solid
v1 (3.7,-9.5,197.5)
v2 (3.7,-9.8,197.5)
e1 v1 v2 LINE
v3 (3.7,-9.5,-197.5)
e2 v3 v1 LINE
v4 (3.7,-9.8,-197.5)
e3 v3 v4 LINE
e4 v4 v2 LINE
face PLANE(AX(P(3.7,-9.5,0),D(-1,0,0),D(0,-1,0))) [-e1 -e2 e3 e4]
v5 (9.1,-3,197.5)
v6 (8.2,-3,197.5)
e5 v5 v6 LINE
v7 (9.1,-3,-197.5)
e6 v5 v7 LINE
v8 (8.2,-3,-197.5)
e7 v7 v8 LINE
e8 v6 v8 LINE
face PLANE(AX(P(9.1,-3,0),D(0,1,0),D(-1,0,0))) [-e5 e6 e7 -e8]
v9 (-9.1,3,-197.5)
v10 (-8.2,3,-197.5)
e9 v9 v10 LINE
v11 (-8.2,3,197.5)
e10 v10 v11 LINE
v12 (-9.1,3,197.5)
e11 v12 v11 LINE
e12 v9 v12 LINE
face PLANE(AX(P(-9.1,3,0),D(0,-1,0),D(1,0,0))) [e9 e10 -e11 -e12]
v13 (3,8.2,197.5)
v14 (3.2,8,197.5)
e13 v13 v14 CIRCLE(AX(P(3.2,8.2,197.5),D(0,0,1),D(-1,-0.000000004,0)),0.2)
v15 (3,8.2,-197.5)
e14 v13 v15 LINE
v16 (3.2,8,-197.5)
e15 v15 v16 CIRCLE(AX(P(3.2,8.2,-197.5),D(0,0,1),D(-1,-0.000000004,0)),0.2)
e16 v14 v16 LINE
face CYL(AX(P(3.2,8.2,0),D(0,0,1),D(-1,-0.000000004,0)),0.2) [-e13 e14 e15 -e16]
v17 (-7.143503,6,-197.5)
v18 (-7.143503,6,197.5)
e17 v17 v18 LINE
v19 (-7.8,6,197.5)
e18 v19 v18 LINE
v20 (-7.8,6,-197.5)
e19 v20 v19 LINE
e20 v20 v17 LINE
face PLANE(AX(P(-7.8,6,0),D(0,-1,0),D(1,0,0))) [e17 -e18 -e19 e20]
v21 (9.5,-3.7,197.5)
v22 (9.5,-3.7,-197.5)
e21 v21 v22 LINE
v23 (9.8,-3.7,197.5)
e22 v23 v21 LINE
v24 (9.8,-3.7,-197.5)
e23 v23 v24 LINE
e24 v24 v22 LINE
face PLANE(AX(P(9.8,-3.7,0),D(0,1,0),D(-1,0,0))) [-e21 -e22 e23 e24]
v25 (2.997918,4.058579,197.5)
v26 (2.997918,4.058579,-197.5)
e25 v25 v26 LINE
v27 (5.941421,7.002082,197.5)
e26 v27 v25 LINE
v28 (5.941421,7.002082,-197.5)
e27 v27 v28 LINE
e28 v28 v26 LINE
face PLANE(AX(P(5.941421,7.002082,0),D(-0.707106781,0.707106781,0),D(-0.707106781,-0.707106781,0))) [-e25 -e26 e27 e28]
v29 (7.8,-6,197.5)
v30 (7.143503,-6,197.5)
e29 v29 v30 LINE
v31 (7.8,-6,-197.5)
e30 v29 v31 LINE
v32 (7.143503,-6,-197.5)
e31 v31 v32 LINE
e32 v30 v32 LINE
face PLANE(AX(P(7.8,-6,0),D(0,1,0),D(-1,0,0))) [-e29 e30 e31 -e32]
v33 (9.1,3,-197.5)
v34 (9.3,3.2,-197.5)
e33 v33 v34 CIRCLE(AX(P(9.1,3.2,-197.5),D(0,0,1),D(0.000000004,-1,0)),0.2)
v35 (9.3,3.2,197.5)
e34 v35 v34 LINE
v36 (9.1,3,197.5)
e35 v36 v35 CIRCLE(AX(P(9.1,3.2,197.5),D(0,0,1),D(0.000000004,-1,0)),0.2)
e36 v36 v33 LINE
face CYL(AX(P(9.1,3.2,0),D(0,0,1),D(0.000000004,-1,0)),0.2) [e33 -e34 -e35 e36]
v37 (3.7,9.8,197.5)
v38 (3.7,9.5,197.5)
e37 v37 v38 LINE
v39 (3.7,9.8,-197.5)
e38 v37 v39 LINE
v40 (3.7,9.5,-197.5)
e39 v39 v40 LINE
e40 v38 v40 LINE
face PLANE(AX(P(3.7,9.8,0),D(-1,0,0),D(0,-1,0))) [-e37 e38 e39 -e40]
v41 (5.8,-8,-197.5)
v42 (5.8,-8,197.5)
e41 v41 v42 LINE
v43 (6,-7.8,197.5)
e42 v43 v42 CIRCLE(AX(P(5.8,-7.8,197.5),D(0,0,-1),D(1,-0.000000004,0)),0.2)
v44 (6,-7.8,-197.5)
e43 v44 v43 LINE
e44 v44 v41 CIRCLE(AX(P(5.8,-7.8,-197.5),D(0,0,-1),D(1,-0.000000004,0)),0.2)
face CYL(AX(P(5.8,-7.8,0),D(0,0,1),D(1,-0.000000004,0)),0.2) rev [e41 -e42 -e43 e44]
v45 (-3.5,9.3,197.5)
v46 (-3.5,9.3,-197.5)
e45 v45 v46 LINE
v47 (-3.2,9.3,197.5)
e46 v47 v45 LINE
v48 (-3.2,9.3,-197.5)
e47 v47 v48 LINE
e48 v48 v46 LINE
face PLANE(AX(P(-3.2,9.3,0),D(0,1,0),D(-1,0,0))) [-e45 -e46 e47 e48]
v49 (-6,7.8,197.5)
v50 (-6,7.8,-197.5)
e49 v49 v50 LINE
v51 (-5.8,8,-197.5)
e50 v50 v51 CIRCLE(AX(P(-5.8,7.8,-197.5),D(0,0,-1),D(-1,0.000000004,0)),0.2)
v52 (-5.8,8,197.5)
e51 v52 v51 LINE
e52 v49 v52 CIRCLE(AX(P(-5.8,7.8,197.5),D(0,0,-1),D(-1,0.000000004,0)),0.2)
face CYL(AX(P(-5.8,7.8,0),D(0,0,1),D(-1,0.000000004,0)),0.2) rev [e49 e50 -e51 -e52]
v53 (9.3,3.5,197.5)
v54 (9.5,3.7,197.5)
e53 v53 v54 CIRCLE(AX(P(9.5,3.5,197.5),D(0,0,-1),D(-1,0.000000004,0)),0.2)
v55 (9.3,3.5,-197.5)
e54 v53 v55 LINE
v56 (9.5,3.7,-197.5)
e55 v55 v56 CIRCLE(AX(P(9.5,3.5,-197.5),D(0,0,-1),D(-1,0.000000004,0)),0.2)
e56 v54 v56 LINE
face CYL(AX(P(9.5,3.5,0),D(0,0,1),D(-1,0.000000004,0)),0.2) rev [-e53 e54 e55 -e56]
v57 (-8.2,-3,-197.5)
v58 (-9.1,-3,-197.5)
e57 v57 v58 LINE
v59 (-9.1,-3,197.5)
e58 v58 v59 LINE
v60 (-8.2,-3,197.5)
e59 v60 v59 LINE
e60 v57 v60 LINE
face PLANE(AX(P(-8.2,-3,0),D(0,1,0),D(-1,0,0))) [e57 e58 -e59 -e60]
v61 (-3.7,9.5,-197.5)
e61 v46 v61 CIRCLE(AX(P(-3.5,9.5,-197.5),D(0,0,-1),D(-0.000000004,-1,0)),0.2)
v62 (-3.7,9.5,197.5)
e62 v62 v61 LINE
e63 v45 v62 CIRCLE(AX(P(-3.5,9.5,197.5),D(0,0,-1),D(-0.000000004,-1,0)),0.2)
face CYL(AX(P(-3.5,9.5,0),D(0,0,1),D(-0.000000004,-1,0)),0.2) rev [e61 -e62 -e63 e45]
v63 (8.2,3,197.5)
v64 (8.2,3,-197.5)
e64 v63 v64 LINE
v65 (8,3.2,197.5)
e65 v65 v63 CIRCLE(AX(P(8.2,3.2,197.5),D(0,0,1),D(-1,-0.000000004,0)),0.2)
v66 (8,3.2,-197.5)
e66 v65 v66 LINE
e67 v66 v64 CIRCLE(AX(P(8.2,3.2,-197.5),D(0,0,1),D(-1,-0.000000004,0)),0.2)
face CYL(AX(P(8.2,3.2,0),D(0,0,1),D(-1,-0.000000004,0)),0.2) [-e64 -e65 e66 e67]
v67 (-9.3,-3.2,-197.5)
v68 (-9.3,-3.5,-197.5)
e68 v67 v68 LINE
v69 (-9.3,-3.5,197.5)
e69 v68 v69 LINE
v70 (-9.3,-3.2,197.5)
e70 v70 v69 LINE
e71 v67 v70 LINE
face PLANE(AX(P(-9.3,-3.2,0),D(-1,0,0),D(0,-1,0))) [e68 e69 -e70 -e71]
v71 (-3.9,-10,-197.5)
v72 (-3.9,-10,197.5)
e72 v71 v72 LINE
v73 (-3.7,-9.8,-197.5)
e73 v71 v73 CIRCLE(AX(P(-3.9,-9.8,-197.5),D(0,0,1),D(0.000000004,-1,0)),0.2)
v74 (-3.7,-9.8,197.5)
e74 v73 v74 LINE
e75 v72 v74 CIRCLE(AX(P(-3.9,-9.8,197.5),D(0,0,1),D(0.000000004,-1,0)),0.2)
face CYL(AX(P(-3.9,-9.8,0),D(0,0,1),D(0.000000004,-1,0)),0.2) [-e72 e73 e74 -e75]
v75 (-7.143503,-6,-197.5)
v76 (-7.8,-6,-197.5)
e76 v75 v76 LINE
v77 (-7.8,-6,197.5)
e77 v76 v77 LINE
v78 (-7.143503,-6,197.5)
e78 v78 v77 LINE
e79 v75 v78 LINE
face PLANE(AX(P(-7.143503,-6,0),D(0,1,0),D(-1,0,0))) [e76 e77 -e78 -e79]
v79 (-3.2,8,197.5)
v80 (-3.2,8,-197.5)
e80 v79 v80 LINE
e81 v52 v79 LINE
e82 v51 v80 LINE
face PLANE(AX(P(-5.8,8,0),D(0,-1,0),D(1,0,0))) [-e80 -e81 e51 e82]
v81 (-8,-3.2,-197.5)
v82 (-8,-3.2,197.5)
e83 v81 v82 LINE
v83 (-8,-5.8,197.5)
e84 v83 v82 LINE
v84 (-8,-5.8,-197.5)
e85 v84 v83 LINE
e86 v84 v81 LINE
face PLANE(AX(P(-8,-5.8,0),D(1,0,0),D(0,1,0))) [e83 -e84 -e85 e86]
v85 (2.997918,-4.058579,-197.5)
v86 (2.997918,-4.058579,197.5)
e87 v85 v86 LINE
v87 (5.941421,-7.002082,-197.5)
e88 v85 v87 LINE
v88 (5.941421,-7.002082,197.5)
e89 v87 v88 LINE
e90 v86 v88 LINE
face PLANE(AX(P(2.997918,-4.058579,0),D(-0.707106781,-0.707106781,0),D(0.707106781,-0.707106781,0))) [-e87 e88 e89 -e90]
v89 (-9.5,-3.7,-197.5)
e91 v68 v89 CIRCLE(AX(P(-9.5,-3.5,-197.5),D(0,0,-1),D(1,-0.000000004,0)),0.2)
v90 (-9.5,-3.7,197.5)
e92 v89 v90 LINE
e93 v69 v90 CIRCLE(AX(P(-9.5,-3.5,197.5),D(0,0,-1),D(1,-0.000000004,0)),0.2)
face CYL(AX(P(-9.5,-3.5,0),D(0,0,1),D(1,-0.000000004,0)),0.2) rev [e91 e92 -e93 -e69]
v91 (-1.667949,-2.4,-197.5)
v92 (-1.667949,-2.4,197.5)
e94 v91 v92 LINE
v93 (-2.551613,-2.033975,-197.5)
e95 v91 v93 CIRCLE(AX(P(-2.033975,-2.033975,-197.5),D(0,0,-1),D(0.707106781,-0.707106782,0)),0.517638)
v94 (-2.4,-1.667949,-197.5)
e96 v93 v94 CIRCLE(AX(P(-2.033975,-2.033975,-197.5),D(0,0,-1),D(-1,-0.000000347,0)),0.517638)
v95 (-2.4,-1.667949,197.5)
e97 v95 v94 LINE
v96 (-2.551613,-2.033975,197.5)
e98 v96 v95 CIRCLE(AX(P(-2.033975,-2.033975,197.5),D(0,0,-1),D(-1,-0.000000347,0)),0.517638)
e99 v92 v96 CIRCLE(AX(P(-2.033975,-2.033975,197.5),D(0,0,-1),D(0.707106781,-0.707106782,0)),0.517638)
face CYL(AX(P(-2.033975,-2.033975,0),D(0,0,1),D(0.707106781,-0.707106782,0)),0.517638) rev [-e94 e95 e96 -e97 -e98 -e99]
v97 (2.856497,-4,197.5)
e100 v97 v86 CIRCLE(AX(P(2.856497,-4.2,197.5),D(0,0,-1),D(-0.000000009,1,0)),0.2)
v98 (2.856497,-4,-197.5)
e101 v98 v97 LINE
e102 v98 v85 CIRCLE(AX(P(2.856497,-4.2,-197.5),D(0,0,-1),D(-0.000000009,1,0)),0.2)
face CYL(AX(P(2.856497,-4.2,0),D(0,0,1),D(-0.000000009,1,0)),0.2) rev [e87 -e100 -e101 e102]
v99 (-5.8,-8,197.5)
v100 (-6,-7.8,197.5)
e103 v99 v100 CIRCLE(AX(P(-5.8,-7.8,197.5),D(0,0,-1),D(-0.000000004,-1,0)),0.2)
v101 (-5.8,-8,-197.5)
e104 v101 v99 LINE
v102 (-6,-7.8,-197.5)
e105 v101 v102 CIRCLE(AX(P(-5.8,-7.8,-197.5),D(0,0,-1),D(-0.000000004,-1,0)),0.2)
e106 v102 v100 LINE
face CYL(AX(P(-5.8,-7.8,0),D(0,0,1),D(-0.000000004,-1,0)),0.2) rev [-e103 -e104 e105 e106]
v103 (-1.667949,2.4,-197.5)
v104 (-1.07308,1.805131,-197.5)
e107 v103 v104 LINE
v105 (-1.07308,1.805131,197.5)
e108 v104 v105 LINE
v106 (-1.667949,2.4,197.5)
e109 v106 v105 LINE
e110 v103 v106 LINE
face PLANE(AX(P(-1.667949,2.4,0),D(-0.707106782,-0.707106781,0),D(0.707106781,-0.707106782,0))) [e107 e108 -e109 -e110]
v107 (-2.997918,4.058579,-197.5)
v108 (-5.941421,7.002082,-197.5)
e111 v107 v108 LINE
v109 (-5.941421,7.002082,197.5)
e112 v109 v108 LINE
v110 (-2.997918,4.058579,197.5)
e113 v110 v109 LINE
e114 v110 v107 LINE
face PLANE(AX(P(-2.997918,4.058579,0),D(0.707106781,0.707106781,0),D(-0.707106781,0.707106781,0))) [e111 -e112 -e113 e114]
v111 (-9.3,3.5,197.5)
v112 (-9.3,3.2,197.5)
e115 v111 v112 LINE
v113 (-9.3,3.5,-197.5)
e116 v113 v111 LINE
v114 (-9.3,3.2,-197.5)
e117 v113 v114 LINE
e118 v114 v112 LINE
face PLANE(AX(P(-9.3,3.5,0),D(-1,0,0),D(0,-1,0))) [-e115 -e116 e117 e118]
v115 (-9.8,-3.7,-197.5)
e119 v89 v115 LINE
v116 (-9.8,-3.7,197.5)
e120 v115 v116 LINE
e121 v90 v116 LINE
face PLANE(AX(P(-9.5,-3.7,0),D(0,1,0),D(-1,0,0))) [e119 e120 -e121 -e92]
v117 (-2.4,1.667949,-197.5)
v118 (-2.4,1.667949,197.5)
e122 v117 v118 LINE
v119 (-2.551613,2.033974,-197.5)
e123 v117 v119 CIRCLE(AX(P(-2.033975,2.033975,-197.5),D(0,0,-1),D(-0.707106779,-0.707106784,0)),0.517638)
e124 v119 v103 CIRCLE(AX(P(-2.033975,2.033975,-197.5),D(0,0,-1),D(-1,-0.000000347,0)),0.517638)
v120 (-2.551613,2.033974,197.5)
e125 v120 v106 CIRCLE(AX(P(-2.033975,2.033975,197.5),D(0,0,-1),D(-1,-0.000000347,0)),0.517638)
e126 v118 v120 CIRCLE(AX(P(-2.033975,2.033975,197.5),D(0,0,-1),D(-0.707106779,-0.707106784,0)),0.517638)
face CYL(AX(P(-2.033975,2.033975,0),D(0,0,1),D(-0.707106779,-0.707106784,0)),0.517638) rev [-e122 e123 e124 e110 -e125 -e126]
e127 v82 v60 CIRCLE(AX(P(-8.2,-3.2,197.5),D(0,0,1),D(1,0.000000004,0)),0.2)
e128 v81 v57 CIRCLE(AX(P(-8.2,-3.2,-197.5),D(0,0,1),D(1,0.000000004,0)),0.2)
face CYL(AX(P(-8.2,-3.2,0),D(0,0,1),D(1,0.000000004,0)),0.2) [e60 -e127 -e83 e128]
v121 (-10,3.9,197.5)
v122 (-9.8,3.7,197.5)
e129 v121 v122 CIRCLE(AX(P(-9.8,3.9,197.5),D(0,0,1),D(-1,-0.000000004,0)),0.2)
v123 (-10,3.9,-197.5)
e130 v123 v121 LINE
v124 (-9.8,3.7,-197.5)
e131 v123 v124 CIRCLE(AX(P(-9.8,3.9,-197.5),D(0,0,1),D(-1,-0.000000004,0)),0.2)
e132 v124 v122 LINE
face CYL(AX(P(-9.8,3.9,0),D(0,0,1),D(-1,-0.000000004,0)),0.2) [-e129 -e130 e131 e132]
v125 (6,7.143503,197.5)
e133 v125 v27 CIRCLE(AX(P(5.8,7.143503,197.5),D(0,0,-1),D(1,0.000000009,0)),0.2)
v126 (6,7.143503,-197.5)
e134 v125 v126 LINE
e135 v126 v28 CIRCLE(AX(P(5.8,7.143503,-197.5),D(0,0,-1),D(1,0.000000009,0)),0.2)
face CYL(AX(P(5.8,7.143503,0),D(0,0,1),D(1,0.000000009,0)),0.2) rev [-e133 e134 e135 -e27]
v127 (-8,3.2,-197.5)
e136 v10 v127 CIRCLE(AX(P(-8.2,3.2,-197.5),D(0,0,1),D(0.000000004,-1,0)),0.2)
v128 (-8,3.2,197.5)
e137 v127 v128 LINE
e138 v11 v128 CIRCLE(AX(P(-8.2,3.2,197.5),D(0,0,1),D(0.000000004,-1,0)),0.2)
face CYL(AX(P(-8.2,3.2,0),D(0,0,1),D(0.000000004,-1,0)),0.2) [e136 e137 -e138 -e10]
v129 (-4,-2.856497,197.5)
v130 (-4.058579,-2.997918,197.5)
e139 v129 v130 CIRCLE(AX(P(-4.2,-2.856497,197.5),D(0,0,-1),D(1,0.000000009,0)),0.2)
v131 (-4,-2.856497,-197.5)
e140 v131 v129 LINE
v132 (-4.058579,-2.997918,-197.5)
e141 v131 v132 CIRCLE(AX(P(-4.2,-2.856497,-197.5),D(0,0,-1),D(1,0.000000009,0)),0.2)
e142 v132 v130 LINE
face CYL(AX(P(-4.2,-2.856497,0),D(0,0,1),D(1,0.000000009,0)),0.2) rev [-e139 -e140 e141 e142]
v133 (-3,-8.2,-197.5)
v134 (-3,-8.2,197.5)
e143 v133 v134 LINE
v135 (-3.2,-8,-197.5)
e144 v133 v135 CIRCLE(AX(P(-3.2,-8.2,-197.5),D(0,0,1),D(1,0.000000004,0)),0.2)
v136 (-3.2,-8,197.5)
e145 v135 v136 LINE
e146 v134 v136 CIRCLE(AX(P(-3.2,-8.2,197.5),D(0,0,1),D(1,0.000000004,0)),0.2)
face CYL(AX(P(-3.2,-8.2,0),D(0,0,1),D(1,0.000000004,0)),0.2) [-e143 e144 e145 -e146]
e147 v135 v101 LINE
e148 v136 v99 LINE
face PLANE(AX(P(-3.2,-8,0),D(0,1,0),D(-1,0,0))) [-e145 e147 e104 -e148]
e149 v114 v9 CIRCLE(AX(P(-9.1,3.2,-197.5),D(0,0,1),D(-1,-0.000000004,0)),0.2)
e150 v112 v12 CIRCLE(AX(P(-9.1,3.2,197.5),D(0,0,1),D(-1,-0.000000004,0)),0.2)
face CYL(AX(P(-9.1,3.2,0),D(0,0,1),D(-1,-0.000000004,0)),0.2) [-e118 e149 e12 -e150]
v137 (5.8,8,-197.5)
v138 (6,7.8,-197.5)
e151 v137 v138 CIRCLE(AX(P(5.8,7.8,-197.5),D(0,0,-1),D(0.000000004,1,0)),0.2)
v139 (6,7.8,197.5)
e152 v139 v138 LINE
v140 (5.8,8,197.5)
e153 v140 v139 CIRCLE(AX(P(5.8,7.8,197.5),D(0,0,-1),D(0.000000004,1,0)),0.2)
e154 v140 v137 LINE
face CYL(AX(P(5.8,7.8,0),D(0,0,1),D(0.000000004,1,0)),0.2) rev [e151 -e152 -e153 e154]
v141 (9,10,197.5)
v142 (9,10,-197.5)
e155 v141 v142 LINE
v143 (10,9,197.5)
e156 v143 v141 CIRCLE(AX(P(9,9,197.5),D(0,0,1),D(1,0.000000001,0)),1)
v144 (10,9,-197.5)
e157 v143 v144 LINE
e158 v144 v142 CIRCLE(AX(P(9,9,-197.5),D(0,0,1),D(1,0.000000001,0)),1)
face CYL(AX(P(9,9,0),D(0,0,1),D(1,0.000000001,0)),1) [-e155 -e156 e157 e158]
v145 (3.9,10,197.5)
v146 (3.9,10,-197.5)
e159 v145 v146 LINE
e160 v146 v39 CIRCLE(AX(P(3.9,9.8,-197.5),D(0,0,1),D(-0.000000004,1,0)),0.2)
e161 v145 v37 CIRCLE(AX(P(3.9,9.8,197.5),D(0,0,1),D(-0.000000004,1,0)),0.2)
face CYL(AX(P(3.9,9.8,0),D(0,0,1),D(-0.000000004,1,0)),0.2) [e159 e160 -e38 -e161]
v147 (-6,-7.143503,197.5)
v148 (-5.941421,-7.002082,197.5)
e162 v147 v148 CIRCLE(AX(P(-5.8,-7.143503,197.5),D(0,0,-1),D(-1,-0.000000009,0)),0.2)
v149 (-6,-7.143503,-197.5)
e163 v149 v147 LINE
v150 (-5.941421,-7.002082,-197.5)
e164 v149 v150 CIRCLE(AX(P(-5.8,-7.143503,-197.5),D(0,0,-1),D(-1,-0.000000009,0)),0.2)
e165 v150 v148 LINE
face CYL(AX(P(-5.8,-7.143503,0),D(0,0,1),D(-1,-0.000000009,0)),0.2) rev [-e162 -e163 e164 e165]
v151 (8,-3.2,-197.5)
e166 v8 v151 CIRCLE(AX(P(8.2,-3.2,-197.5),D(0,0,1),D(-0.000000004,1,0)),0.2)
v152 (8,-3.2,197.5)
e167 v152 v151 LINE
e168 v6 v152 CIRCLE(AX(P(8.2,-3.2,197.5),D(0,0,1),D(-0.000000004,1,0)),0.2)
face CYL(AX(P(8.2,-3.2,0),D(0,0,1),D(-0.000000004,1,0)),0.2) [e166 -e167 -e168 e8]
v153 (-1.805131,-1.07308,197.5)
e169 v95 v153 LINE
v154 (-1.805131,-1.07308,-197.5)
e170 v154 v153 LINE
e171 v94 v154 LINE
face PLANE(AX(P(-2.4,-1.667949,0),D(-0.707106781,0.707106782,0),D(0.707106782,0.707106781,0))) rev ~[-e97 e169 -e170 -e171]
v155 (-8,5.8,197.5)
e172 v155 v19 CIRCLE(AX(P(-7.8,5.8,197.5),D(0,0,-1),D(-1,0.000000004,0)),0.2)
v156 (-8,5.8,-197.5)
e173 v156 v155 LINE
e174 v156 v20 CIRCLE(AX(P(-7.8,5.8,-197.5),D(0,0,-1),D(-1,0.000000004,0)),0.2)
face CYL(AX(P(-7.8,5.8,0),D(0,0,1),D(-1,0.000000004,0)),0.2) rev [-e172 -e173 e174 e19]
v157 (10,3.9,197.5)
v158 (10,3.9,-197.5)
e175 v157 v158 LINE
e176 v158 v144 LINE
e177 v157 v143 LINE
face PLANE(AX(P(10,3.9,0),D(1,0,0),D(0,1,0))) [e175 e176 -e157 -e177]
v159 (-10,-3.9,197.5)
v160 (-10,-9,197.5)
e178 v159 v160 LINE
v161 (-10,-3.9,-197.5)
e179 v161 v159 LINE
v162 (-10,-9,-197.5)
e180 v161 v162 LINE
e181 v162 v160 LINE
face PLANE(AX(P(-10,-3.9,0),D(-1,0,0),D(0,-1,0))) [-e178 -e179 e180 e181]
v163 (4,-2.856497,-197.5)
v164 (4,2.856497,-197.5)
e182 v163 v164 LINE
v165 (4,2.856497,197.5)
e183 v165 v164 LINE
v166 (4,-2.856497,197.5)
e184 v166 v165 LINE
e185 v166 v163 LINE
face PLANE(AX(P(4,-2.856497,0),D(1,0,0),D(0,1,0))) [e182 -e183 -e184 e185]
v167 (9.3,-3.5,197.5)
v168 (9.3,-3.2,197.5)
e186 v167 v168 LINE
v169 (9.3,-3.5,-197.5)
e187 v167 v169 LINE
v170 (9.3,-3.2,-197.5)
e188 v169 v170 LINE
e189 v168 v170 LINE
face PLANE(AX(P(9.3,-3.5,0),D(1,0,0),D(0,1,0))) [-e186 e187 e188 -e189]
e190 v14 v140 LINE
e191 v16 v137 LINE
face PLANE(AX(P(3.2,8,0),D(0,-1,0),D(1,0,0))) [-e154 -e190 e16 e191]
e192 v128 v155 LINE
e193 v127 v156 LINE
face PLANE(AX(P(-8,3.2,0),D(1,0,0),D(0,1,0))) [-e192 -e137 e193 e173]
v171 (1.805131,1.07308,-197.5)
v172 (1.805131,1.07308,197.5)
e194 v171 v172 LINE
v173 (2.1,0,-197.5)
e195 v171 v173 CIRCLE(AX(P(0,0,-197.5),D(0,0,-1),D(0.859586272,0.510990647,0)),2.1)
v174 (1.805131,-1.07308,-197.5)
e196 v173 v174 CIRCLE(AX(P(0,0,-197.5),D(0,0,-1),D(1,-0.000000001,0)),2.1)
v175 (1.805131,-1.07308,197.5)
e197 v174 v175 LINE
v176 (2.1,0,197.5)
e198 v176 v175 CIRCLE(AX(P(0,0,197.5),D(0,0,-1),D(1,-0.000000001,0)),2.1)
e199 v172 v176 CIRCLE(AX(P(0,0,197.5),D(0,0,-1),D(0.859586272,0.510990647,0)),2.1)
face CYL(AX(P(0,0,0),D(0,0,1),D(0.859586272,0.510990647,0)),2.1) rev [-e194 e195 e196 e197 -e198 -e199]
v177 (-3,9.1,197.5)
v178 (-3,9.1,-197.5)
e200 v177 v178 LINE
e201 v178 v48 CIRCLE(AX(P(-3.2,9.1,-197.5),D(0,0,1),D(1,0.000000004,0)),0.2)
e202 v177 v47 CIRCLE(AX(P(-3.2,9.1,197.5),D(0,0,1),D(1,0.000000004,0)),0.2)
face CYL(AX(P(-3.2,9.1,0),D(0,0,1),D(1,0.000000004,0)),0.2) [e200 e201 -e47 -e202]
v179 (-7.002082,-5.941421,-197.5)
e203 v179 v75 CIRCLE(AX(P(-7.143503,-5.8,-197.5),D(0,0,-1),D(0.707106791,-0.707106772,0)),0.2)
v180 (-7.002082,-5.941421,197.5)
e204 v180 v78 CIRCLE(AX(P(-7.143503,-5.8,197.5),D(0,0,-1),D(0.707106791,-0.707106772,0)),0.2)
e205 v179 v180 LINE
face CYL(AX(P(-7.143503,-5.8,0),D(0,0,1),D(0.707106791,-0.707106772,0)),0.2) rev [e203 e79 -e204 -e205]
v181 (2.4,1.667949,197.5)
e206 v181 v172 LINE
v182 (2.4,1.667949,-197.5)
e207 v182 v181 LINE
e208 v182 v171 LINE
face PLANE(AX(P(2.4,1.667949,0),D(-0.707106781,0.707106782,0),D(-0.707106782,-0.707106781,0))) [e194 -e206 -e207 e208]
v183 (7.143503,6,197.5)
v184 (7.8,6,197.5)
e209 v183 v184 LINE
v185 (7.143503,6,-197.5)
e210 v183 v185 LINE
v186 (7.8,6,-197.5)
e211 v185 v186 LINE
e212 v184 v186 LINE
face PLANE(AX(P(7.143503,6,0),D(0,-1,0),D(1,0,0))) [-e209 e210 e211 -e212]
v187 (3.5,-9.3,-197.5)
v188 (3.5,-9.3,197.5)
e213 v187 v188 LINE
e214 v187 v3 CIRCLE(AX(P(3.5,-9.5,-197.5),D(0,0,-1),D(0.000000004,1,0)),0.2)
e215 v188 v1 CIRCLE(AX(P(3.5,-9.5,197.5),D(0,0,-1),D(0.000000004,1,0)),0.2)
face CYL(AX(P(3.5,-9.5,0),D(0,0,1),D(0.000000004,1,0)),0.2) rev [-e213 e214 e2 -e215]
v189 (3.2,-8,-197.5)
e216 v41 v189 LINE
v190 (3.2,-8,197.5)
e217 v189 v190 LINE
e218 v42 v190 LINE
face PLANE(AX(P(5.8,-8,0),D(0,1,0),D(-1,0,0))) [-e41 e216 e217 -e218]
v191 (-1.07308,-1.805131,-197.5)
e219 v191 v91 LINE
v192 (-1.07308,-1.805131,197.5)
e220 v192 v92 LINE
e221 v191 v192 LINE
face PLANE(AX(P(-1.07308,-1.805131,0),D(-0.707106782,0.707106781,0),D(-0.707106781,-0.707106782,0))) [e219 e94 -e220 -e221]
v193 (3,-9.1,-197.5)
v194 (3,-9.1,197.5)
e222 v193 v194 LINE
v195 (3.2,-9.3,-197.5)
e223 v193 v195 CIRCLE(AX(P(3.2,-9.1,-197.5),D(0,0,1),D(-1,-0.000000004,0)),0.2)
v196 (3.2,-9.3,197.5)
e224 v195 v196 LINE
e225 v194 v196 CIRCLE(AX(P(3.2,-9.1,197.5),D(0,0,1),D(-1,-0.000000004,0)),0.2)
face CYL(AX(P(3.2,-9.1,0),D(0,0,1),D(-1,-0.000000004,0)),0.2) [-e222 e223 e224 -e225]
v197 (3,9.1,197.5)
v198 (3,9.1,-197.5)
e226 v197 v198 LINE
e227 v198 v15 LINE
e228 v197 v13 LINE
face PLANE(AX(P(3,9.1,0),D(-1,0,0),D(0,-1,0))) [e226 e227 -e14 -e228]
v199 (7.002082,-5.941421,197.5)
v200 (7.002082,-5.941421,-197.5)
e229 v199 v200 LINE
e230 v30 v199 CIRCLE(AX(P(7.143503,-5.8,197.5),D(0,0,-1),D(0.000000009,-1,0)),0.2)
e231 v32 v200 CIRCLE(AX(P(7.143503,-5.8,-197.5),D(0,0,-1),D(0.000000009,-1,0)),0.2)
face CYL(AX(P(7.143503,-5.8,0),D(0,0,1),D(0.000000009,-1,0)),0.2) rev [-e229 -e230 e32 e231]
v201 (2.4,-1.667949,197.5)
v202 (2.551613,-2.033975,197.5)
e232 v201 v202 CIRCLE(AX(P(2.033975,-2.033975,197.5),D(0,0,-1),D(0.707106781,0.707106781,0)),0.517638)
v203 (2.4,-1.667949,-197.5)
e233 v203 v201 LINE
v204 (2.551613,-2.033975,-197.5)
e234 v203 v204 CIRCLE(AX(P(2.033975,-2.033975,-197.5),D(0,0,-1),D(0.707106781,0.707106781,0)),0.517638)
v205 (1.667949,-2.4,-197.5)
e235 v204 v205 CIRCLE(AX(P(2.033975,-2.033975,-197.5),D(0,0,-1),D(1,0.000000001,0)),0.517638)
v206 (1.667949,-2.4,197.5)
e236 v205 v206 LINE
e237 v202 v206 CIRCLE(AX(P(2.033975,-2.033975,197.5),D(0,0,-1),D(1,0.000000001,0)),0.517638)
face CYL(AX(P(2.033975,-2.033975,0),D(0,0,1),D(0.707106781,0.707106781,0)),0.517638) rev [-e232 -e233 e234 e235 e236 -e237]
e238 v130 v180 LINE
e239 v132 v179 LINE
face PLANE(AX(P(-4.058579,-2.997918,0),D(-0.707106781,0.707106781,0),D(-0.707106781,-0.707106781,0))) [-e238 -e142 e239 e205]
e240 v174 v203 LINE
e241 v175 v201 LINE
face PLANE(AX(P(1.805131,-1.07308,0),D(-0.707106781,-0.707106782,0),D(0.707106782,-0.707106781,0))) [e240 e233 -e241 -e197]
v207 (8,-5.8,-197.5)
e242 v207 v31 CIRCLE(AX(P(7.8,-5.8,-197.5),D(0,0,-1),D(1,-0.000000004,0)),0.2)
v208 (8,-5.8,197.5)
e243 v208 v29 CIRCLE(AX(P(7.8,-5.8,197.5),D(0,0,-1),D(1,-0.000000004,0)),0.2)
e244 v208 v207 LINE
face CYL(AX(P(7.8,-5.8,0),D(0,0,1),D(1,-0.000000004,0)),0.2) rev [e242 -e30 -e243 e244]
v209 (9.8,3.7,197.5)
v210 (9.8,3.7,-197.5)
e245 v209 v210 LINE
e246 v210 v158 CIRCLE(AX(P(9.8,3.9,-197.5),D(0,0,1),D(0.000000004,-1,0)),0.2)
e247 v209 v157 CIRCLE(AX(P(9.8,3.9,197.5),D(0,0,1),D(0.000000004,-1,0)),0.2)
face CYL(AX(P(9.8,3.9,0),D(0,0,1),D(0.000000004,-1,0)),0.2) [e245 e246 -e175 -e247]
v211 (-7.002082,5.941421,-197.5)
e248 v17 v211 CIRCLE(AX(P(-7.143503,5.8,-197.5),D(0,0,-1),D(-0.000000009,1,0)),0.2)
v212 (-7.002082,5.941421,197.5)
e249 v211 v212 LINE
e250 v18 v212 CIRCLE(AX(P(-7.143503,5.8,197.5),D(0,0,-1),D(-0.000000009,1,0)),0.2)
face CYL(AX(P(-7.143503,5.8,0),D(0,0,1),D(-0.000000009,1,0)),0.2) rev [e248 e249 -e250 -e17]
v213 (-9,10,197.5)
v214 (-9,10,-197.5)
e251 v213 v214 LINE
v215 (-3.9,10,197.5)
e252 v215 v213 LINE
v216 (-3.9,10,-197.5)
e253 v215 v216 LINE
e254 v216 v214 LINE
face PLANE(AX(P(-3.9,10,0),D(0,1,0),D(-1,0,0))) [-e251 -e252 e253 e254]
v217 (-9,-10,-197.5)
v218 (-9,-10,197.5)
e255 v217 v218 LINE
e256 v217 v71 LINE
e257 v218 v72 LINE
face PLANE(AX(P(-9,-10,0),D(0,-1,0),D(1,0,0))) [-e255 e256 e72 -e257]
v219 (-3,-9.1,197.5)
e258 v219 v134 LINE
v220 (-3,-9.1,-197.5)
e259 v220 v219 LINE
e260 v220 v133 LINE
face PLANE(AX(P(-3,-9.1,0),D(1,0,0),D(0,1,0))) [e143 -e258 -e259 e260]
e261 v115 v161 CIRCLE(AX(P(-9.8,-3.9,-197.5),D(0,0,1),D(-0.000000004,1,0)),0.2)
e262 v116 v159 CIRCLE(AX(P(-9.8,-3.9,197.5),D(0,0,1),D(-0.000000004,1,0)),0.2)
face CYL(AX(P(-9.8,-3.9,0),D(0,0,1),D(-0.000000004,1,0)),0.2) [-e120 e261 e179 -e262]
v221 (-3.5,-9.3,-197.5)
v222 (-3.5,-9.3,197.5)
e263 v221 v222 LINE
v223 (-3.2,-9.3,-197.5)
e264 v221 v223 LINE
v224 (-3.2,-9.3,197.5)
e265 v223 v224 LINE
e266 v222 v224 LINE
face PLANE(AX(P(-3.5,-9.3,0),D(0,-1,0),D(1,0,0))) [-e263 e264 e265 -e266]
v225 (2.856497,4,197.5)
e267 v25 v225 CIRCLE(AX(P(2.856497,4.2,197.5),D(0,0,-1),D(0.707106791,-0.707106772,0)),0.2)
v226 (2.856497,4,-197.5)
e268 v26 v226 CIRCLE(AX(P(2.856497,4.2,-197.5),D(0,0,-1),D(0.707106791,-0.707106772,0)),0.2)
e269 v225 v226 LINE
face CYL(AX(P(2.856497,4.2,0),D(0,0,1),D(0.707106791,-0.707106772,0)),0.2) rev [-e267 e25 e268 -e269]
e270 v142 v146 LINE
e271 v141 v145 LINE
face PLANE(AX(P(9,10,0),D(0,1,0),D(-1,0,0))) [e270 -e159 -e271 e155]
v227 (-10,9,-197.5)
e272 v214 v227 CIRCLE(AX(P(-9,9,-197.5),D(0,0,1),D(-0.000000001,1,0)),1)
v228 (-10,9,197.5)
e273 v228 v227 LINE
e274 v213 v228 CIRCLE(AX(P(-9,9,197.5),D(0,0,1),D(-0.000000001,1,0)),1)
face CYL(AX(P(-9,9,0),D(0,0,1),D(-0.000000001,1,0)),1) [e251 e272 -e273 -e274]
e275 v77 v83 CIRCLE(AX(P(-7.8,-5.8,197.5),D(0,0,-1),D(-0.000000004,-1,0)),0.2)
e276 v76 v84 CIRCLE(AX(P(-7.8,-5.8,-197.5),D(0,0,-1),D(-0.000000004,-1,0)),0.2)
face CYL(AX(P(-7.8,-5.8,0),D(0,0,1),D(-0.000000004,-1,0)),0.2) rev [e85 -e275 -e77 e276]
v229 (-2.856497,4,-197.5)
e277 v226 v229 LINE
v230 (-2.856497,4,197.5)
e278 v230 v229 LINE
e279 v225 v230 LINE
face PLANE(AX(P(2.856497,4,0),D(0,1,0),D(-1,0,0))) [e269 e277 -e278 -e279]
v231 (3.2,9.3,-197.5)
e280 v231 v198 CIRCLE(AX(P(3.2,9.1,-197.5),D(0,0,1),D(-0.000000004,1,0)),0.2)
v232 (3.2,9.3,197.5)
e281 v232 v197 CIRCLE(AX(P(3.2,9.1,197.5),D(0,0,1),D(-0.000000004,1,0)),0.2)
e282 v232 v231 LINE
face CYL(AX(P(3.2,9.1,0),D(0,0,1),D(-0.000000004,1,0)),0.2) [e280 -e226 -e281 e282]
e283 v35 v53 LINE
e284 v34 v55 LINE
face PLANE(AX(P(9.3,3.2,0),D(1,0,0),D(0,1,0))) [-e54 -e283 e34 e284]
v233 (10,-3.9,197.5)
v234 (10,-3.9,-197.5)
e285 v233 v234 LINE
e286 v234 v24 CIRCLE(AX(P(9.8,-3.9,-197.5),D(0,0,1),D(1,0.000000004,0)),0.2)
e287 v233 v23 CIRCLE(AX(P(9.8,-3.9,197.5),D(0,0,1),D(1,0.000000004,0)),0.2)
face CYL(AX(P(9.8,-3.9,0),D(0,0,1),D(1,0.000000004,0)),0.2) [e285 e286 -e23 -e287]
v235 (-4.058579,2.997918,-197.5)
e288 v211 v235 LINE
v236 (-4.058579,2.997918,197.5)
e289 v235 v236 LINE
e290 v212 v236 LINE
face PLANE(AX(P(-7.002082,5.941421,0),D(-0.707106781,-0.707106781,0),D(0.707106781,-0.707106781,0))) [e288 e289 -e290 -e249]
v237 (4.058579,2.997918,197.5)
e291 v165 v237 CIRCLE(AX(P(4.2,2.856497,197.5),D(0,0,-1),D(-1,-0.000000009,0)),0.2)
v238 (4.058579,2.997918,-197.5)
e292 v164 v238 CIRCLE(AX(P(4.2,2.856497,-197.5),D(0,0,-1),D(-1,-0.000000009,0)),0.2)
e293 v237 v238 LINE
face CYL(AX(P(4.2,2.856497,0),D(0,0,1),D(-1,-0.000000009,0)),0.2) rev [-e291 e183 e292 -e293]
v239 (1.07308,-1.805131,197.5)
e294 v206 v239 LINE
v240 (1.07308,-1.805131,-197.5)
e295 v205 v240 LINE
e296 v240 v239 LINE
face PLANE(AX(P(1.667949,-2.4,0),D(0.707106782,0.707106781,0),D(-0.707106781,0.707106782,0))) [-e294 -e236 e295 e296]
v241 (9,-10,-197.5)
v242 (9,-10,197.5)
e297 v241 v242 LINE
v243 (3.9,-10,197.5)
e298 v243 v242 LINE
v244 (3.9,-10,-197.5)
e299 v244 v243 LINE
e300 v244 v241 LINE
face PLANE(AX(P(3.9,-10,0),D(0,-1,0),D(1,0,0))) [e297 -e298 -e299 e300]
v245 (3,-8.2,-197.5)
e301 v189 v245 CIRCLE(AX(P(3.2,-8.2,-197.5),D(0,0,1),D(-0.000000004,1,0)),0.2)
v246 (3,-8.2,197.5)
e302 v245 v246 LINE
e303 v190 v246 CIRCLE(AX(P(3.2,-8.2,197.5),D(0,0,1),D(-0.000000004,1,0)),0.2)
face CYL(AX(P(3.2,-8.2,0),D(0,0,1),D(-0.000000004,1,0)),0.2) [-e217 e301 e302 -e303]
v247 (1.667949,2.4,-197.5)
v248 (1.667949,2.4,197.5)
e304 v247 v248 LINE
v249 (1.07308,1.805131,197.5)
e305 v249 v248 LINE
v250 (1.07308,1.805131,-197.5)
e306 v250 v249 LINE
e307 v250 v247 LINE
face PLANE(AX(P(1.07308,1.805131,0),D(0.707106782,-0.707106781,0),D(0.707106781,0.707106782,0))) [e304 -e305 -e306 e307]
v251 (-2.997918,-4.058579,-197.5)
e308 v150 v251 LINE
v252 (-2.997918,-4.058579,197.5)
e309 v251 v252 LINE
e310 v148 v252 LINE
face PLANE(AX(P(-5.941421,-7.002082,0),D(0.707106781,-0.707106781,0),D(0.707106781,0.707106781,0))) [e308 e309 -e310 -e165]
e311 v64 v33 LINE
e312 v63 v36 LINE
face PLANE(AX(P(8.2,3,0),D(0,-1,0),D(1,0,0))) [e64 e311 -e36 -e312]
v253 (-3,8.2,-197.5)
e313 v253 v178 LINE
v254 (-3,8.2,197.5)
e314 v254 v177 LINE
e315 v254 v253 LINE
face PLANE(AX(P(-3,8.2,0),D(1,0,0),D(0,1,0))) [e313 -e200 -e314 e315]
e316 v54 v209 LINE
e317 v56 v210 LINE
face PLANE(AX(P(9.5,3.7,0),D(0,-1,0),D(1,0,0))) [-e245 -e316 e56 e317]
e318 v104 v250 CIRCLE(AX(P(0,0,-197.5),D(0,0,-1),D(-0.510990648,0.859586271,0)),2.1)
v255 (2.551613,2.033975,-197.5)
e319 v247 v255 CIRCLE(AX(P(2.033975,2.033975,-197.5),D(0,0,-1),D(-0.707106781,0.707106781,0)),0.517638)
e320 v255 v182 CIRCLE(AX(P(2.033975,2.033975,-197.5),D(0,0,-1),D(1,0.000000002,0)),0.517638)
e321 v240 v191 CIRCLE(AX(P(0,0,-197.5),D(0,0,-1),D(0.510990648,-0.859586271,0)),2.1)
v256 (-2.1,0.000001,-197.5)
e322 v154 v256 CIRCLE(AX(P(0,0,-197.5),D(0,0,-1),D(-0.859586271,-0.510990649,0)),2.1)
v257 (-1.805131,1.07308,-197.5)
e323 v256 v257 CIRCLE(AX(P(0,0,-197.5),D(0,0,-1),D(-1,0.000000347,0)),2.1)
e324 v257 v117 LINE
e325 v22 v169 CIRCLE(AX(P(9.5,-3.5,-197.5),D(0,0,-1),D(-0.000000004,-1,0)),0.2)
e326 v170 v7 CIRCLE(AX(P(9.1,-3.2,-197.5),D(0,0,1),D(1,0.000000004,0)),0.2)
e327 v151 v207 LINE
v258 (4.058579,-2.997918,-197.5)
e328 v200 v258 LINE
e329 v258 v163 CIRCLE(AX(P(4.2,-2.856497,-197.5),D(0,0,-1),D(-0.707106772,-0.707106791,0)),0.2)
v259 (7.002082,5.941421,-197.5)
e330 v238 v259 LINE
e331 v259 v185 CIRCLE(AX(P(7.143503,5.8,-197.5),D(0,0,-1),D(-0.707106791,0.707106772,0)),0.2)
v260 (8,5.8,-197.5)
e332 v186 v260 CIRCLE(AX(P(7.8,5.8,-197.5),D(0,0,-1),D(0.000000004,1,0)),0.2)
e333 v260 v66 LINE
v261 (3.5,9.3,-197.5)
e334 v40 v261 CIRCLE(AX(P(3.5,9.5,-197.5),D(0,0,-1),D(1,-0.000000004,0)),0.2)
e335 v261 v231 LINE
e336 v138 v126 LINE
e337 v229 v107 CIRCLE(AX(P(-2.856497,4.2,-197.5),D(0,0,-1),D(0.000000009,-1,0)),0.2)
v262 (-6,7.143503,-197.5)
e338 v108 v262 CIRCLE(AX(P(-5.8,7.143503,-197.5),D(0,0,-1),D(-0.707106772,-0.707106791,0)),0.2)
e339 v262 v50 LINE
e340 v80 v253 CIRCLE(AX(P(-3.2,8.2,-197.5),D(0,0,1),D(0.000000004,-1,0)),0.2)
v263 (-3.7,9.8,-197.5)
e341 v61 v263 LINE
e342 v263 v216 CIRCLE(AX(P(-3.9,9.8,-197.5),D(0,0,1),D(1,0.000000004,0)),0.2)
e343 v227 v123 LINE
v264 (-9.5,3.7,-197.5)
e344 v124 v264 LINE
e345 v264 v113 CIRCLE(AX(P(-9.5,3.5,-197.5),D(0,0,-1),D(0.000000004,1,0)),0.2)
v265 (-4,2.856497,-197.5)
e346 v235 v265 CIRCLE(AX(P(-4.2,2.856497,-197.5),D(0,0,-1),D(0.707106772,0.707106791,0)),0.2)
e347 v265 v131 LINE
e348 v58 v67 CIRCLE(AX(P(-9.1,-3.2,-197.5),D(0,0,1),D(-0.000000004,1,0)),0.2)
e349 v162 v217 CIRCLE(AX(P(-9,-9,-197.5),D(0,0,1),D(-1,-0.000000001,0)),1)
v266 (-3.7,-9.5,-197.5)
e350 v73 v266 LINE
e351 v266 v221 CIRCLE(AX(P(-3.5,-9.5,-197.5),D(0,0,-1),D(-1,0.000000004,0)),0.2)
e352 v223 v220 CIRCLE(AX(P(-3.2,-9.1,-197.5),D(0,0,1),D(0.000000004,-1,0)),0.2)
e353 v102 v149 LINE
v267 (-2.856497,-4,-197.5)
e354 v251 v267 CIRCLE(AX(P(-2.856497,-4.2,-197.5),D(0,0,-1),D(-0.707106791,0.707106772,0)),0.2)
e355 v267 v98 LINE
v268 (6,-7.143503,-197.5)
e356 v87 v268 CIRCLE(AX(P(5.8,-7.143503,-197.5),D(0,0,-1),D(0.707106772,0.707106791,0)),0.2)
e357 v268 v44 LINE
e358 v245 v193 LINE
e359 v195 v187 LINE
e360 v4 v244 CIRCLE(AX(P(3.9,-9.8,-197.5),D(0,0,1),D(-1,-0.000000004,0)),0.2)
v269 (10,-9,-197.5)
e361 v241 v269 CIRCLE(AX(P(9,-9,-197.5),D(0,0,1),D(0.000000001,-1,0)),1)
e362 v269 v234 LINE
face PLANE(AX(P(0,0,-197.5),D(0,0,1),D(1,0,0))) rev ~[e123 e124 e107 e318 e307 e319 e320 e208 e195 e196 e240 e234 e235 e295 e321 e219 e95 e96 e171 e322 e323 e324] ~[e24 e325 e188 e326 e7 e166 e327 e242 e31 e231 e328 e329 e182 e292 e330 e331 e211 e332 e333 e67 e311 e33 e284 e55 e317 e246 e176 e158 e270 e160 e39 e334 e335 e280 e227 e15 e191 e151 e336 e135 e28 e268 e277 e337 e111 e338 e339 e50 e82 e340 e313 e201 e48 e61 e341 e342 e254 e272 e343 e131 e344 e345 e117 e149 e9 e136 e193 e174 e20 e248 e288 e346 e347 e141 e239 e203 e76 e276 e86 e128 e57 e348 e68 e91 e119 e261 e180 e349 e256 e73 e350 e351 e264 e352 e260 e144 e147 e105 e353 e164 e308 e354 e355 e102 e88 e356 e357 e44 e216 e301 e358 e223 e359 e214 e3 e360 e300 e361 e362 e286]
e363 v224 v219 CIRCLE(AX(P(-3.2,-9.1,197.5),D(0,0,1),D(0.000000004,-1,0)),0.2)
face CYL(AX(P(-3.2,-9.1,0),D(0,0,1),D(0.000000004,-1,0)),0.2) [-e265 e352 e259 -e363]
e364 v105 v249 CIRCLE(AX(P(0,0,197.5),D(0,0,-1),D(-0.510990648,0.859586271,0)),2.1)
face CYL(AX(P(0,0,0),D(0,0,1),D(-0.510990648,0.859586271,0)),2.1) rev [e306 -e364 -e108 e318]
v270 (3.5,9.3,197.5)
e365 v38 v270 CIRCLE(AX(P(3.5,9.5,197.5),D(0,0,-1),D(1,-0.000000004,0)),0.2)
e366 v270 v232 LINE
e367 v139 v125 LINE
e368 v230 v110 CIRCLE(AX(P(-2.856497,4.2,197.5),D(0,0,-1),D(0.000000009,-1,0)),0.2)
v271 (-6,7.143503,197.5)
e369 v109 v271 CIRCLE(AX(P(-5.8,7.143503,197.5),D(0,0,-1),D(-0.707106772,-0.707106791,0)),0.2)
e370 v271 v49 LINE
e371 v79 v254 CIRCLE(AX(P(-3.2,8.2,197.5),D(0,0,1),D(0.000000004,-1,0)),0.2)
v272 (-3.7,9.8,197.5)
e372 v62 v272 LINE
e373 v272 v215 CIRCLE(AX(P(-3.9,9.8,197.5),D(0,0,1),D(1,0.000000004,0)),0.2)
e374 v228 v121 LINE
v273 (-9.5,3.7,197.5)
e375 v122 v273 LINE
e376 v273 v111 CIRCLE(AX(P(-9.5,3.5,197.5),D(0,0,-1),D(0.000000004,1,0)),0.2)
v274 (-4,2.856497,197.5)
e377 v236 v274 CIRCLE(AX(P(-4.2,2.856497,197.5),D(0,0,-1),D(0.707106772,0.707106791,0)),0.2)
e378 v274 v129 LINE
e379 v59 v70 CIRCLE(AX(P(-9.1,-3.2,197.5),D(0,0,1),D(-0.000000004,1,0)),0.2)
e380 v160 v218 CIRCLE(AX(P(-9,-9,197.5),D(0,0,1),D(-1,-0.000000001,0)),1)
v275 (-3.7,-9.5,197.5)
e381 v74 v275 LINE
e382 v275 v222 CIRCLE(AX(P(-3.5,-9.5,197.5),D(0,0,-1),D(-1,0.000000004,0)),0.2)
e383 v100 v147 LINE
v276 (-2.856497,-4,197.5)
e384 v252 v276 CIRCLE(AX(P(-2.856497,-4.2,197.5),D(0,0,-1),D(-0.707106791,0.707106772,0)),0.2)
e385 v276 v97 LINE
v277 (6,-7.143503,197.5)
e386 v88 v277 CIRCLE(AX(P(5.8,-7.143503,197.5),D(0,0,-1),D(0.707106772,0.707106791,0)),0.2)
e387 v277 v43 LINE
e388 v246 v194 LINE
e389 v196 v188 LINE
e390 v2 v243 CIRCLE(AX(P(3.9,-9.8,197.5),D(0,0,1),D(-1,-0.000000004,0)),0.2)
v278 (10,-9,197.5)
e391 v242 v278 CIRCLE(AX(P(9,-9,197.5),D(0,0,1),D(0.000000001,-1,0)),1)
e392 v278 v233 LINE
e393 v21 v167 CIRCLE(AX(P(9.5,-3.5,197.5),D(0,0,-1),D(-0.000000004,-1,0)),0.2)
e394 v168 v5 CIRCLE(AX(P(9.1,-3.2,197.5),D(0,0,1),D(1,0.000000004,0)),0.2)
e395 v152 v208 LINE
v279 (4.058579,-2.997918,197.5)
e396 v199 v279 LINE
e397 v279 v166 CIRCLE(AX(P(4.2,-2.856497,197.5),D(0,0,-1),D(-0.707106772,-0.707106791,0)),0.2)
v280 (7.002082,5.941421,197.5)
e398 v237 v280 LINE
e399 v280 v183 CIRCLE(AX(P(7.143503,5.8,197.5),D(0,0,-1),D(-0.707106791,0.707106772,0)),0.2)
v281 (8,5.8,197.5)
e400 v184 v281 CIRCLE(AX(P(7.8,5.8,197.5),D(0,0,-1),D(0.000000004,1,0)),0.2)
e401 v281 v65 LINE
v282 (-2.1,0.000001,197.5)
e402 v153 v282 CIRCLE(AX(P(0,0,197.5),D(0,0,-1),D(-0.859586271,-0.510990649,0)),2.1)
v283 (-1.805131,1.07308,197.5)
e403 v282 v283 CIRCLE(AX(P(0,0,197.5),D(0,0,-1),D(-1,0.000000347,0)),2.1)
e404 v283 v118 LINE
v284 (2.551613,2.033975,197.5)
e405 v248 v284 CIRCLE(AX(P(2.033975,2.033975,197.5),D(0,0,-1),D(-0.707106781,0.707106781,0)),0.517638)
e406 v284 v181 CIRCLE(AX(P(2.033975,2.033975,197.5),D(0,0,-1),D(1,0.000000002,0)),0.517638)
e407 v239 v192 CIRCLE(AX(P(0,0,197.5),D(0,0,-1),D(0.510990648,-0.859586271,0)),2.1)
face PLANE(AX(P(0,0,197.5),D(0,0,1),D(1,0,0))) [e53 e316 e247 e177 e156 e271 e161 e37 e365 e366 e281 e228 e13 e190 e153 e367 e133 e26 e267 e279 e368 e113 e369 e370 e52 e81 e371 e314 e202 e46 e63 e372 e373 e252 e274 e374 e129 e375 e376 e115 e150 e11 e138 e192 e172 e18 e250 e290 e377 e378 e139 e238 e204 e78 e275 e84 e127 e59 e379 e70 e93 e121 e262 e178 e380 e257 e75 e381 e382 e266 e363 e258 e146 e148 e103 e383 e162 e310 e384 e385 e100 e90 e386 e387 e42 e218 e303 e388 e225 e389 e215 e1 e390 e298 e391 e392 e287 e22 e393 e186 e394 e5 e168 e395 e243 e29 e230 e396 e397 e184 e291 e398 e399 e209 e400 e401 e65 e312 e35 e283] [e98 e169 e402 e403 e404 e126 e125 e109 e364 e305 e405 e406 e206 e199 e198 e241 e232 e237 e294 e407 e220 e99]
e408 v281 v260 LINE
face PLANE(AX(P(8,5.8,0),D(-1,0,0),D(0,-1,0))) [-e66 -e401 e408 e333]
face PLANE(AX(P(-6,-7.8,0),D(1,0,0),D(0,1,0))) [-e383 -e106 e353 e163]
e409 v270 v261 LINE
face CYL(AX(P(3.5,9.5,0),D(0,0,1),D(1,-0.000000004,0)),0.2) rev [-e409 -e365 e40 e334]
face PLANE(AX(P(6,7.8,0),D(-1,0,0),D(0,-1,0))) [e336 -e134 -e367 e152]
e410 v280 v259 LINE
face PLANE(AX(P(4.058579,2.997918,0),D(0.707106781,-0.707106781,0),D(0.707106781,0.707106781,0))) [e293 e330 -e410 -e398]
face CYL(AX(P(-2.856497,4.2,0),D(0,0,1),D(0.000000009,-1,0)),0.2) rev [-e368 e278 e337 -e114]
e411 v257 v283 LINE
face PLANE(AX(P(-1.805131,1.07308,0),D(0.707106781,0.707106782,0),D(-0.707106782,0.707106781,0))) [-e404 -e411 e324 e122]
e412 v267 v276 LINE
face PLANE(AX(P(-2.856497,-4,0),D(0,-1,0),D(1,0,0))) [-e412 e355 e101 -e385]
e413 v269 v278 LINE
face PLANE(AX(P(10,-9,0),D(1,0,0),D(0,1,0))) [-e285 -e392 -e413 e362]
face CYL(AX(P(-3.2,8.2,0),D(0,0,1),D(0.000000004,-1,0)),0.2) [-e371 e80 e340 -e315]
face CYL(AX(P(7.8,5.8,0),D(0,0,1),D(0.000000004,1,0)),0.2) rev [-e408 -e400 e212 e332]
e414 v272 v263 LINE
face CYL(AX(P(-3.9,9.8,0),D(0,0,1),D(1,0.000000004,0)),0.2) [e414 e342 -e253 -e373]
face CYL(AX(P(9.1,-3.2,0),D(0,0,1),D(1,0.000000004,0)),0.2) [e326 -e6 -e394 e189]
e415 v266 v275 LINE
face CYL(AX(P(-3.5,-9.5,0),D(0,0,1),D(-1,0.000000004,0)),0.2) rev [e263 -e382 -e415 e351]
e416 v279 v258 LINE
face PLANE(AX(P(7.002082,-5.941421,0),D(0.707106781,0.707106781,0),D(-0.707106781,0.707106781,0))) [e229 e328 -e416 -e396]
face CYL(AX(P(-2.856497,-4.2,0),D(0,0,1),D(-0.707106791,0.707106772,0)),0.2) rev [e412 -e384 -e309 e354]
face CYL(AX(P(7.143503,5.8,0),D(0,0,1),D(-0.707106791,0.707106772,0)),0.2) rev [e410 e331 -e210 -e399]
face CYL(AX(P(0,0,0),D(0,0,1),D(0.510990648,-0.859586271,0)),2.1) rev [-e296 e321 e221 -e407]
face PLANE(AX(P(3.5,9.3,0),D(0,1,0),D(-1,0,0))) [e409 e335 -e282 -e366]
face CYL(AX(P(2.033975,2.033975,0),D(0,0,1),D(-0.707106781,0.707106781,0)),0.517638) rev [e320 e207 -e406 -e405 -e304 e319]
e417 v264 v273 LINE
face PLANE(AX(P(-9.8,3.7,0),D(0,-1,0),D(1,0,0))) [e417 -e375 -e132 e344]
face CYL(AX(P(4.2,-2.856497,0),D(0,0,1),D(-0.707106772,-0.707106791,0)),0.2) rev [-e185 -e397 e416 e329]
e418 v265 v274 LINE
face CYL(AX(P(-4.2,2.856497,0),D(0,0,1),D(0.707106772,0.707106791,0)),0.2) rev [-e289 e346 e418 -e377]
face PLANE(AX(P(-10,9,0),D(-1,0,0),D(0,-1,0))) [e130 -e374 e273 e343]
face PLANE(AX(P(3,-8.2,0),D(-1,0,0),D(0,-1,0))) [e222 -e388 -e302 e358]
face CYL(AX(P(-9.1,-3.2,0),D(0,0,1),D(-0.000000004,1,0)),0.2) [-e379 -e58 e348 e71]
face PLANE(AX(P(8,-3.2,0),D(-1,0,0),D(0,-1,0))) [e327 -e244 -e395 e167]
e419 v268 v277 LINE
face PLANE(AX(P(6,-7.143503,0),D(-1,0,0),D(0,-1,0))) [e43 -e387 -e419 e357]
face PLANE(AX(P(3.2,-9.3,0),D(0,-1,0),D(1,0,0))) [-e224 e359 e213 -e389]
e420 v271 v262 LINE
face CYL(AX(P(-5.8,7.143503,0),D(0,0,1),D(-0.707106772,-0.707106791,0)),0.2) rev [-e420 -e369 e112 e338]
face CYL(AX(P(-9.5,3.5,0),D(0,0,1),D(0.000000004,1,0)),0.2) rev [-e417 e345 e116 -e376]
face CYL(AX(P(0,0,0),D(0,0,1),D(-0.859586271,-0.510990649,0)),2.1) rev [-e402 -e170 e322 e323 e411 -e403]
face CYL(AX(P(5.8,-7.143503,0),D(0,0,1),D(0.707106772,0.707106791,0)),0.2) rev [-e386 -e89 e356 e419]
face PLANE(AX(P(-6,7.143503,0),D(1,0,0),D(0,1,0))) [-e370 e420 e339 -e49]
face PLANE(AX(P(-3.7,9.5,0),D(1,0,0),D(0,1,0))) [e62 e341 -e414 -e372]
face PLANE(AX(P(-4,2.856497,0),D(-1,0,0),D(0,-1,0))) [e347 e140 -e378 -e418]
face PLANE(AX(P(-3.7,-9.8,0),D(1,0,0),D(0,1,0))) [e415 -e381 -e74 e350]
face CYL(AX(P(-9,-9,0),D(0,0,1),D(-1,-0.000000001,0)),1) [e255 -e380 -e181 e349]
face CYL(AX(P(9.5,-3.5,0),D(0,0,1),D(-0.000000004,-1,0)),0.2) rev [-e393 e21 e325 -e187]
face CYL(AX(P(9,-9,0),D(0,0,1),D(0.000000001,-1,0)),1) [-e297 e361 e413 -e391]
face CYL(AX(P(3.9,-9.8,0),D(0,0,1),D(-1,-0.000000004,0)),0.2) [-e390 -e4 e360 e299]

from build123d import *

# Parameters (mm, degrees)
RESSALTO_EXTRUS_O1_DEPTH = 197.5


with BuildPart() as part:
    # Model → Ressalto-extrusão1 (new, symmetric)
    with BuildSketch(Plane.XY):
        with BuildLine():
            Line((-10, 9), (-10, 3.9))
            ThreePointArc((-10, 3.9), (-9.941421356, 3.758578644), (-9.8, 3.7))
            Line((-9.8, 3.7), (-9.5, 3.7))
            ThreePointArc((-9.5, 3.7), (-9.358578644, 3.641421356), (-9.3, 3.5))
            Line((-9.3, 3.5), (-9.3, 3.2))
            ThreePointArc((-9.3, 3.2), (-9.241421356, 3.058578644), (-9.1, 3))
            Line((-9.1, 3), (-8.2, 3))
            ThreePointArc((-8.2, 3), (-8.058578644, 3.058578644), (-8, 3.2))
            Line((-8, 3.2), (-8, 5.8))
            ThreePointArc((-8, 5.8), (-7.941421356, 5.941421356), (-7.8, 6))
            Line((-7.8, 6), (-7.143502884, 6))
            ThreePointArc((-7.143502884, 6), (-7.066966198, 5.984775907), (-7.002081528, 5.941421356))
            Line((-7.002081528, 5.941421356), (-4.058578644, 2.997918472))
            ThreePointArc((-4.058578644, 2.997918472), (-4.015224093, 2.933033802), (-4, 2.856497116))
            Line((-4, 2.856497116), (-4, -2.856497116))
            ThreePointArc((-4, -2.856497116), (-4.015224093, -2.933033802), (-4.058578644, -2.997918472))
            Line((-4.058578644, -2.997918472), (-7.002081528, -5.941421356))
            ThreePointArc((-7.002081528, -5.941421356), (-7.066966198, -5.984775907), (-7.143502884, -6))
            Line((-7.143502884, -6), (-7.8, -6))
            ThreePointArc((-7.8, -6), (-7.941421356, -5.941421356), (-8, -5.8))
            Line((-8, -5.8), (-8, -3.2))
            ThreePointArc((-8, -3.2), (-8.058578644, -3.058578644), (-8.2, -3))
            Line((-8.2, -3), (-9.1, -3))
            ThreePointArc((-9.1, -3), (-9.241421356, -3.058578644), (-9.3, -3.2))
            Line((-9.3, -3.2), (-9.3, -3.5))
            ThreePointArc((-9.3, -3.5), (-9.358578644, -3.641421356), (-9.5, -3.7))
            Line((-9.5, -3.7), (-9.8, -3.7))
            ThreePointArc((-9.8, -3.7), (-9.941421356, -3.758578644), (-10, -3.9))
            Line((-10, -3.9), (-10, -9))
            ThreePointArc((-10, -9), (-9.707106781, -9.707106781), (-9, -10))
            Line((-9, -10), (-3.9, -10))
            ThreePointArc((-3.9, -10), (-3.758578644, -9.941421356), (-3.7, -9.8))
            Line((-3.7, -9.8), (-3.7, -9.5))
            ThreePointArc((-3.7, -9.5), (-3.641421356, -9.358578644), (-3.5, -9.3))
            Line((-3.5, -9.3), (-3.2, -9.3))
            ThreePointArc((-3.2, -9.3), (-3.058578644, -9.241421356), (-3, -9.1))
            Line((-3, -9.1), (-3, -8.2))
            ThreePointArc((-3, -8.2), (-3.058578644, -8.058578644), (-3.2, -8))
            Line((-3.2, -8), (-5.8, -8))
            ThreePointArc((-5.8, -8), (-5.941421356, -7.941421356), (-6, -7.8))
            Line((-6, -7.8), (-6, -7.143502884))
            ThreePointArc((-6, -7.143502884), (-5.984775907, -7.066966198), (-5.941421356, -7.002081528))
            Line((-5.941421356, -7.002081528), (-2.997918472, -4.058578644))
            ThreePointArc((-2.997918472, -4.058578644), (-2.933033802, -4.015224093), (-2.856497116, -4))
            Line((-2.856497116, -4), (2.856497116, -4))
            ThreePointArc((2.856497116, -4), (2.933033802, -4.015224093), (2.997918472, -4.058578644))
            Line((2.997918472, -4.058578644), (5.941421356, -7.002081528))
            ThreePointArc((5.941421356, -7.002081528), (5.984775907, -7.066966198), (6, -7.143502884))
            Line((6, -7.143502884), (6, -7.8))
            ThreePointArc((6, -7.8), (5.941421356, -7.941421356), (5.8, -8))
            Line((5.8, -8), (3.2, -8))
            ThreePointArc((3.2, -8), (3.058578644, -8.058578644), (3, -8.2))
            Line((3, -8.2), (3, -9.1))
            ThreePointArc((3, -9.1), (3.058578644, -9.241421356), (3.2, -9.3))
            Line((3.2, -9.3), (3.5, -9.3))
            ThreePointArc((3.5, -9.3), (3.641421356, -9.358578644), (3.7, -9.5))
            Line((3.7, -9.5), (3.7, -9.8))
            ThreePointArc((3.7, -9.8), (3.758578644, -9.941421356), (3.9, -10))
            Line((3.9, -10), (9, -10))
            ThreePointArc((9, -10), (9.707106781, -9.707106781), (10, -9))
            Line((10, -9), (10, -3.9))
            ThreePointArc((10, -3.9), (9.941421356, -3.758578644), (9.8, -3.7))
            Line((9.8, -3.7), (9.5, -3.7))
            ThreePointArc((9.5, -3.7), (9.358578644, -3.641421356), (9.3, -3.5))
            Line((9.3, -3.5), (9.3, -3.2))
            ThreePointArc((9.3, -3.2), (9.241421356, -3.058578644), (9.1, -3))
            Line((9.1, -3), (8.2, -3))
            ThreePointArc((8.2, -3), (8.058578644, -3.058578644), (8, -3.2))
            Line((8, -3.2), (8, -5.8))
            ThreePointArc((8, -5.8), (7.941421356, -5.941421356), (7.8, -6))
            Line((7.8, -6), (7.143502884, -6))
            ThreePointArc((7.143502884, -6), (7.066966198, -5.984775907), (7.002081528, -5.941421356))
            Line((7.002081528, -5.941421356), (4.058578644, -2.997918472))
            ThreePointArc((4.058578644, -2.997918472), (4.015224093, -2.933033802), (4, -2.856497116))
            Line((4, -2.856497116), (4, 2.856497116))
            ThreePointArc((4, 2.856497116), (4.015224093, 2.933033802), (4.058578644, 2.997918472))
            Line((4.058578644, 2.997918472), (7.002081528, 5.941421356))
            ThreePointArc((7.002081528, 5.941421356), (7.066966198, 5.984775907), (7.143502884, 6))
            Line((7.143502884, 6), (7.8, 6))
            ThreePointArc((7.8, 6), (7.941421356, 5.941421356), (8, 5.8))
            Line((8, 5.8), (8, 3.2))
            ThreePointArc((8, 3.2), (8.058578644, 3.058578644), (8.2, 3))
            Line((8.2, 3), (9.1, 3))
            ThreePointArc((9.1, 3), (9.241421356, 3.058578644), (9.3, 3.2))
            Line((9.3, 3.2), (9.3, 3.5))
            ThreePointArc((9.3, 3.5), (9.358578644, 3.641421356), (9.5, 3.7))
            Line((9.5, 3.7), (9.8, 3.7))
            ThreePointArc((9.8, 3.7), (9.941421356, 3.758578644), (10, 3.9))
            Line((10, 3.9), (10, 9))
            ThreePointArc((10, 9), (9.707106781, 9.707106781), (9, 10))
            Line((9, 10), (3.9, 10))
            ThreePointArc((3.9, 10), (3.758578644, 9.941421356), (3.7, 9.8))
            Line((3.7, 9.8), (3.7, 9.5))
            ThreePointArc((3.7, 9.5), (3.641421356, 9.358578644), (3.5, 9.3))
            Line((3.5, 9.3), (3.2, 9.3))
            ThreePointArc((3.2, 9.3), (3.058578644, 9.241421356), (3, 9.1))
            Line((3, 9.1), (3, 8.2))
            ThreePointArc((3, 8.2), (3.058578644, 8.058578644), (3.2, 8))
            Line((3.2, 8), (5.8, 8))
            ThreePointArc((5.8, 8), (5.941421356, 7.941421356), (6, 7.8))
            Line((6, 7.8), (6, 7.143502884))
            ThreePointArc((6, 7.143502884), (5.984775907, 7.066966198), (5.941421356, 7.002081528))
            Line((5.941421356, 7.002081528), (2.997918472, 4.058578644))
            ThreePointArc((2.997918472, 4.058578644), (2.933033802, 4.015224093), (2.856497116, 4))
            Line((2.856497116, 4), (-2.856497116, 4))
            ThreePointArc((-2.856497116, 4), (-2.933033802, 4.015224093), (-2.997918472, 4.058578644))
            Line((-2.997918472, 4.058578644), (-5.941421356, 7.002081528))
            ThreePointArc((-5.941421356, 7.002081528), (-5.984775907, 7.066966198), (-6, 7.143502884))
            Line((-6, 7.143502884), (-6, 7.8))
            ThreePointArc((-6, 7.8), (-5.941421356, 7.941421356), (-5.8, 8))
            Line((-5.8, 8), (-3.2, 8))
            ThreePointArc((-3.2, 8), (-3.058578644, 8.058578644), (-3, 8.2))
            Line((-3, 8.2), (-3, 9.1))
            ThreePointArc((-3, 9.1), (-3.058578644, 9.241421356), (-3.2, 9.3))
            Line((-3.2, 9.3), (-3.5, 9.3))
            ThreePointArc((-3.5, 9.3), (-3.641421356, 9.358578644), (-3.7, 9.5))
            Line((-3.7, 9.5), (-3.7, 9.8))
            ThreePointArc((-3.7, 9.8), (-3.758578644, 9.941421356), (-3.9, 10))
            Line((-3.9, 10), (-9, 10))
            ThreePointArc((-9, 10), (-9.707106781, 9.707106781), (-10, 9))
        make_face()
        with BuildLine():
            Line((-2.4, -1.667949192), (-1.805131169, -1.073080362))
            ThreePointArc((-1.805131169, -1.073080362), (-2.02494151, -0.556427787), (-2.1, 7.27e-07))
            ThreePointArc((-2.1, 7.27e-07), (-2.024941317, 0.556428488), (-1.805131169, 1.073080362))
            Line((-1.805131169, 1.073080362), (-2.4, 1.667949192))
            ThreePointArc((-2.4, 1.667949192), (-2.512209799, 1.835882992), (-2.551612686, 2.033974417))
            ThreePointArc((-2.551612686, 2.033974417), (-2.2320662, 2.512209799), (-1.667949192, 2.4))
            Line((-1.667949192, 2.4), (-1.073080362, 1.805131169))
            ThreePointArc((-1.073080362, 1.805131169), (0, 2.1), (1.073080362, 1.805131169))
            Line((1.073080362, 1.805131169), (1.667949192, 2.4))
            ThreePointArc((1.667949192, 2.4), (2.232066117, 2.512209833), (2.551612686, 2.033974596))
            ThreePointArc((2.551612686, 2.033974596), (2.512209833, 1.835883075), (2.4, 1.667949192))
            Line((2.4, 1.667949192), (1.805131169, 1.073080362))
            ThreePointArc((1.805131169, 1.073080362), (2.024941413, 0.556428138), (2.1, 0))
            ThreePointArc((2.1, 0), (2.024941413, -0.556428138), (1.805131169, -1.073080362))
            Line((1.805131169, -1.073080362), (2.4, -1.667949192))
            ThreePointArc((2.4, -1.667949192), (2.512209833, -1.835883075), (2.551612686, -2.033974596))
            ThreePointArc((2.551612686, -2.033974596), (2.232066117, -2.512209833), (1.667949192, -2.4))
            Line((1.667949192, -2.4), (1.073080362, -1.805131169))
            ThreePointArc((1.073080362, -1.805131169), (0, -2.1), (-1.073080362, -1.805131169))
            Line((-1.073080362, -1.805131169), (-1.667949192, -2.4))
            ThreePointArc((-1.667949192, -2.4), (-2.232066034, -2.512209867), (-2.551612686, -2.033974776))
            ThreePointArc((-2.551612686, -2.033974776), (-2.512209867, -1.835883158), (-2.4, -1.667949192))
        make_face(mode=Mode.SUBTRACT)
    extrude(amount=RESSALTO_EXTRUS_O1_DEPTH, both=True)


solid = part.part
